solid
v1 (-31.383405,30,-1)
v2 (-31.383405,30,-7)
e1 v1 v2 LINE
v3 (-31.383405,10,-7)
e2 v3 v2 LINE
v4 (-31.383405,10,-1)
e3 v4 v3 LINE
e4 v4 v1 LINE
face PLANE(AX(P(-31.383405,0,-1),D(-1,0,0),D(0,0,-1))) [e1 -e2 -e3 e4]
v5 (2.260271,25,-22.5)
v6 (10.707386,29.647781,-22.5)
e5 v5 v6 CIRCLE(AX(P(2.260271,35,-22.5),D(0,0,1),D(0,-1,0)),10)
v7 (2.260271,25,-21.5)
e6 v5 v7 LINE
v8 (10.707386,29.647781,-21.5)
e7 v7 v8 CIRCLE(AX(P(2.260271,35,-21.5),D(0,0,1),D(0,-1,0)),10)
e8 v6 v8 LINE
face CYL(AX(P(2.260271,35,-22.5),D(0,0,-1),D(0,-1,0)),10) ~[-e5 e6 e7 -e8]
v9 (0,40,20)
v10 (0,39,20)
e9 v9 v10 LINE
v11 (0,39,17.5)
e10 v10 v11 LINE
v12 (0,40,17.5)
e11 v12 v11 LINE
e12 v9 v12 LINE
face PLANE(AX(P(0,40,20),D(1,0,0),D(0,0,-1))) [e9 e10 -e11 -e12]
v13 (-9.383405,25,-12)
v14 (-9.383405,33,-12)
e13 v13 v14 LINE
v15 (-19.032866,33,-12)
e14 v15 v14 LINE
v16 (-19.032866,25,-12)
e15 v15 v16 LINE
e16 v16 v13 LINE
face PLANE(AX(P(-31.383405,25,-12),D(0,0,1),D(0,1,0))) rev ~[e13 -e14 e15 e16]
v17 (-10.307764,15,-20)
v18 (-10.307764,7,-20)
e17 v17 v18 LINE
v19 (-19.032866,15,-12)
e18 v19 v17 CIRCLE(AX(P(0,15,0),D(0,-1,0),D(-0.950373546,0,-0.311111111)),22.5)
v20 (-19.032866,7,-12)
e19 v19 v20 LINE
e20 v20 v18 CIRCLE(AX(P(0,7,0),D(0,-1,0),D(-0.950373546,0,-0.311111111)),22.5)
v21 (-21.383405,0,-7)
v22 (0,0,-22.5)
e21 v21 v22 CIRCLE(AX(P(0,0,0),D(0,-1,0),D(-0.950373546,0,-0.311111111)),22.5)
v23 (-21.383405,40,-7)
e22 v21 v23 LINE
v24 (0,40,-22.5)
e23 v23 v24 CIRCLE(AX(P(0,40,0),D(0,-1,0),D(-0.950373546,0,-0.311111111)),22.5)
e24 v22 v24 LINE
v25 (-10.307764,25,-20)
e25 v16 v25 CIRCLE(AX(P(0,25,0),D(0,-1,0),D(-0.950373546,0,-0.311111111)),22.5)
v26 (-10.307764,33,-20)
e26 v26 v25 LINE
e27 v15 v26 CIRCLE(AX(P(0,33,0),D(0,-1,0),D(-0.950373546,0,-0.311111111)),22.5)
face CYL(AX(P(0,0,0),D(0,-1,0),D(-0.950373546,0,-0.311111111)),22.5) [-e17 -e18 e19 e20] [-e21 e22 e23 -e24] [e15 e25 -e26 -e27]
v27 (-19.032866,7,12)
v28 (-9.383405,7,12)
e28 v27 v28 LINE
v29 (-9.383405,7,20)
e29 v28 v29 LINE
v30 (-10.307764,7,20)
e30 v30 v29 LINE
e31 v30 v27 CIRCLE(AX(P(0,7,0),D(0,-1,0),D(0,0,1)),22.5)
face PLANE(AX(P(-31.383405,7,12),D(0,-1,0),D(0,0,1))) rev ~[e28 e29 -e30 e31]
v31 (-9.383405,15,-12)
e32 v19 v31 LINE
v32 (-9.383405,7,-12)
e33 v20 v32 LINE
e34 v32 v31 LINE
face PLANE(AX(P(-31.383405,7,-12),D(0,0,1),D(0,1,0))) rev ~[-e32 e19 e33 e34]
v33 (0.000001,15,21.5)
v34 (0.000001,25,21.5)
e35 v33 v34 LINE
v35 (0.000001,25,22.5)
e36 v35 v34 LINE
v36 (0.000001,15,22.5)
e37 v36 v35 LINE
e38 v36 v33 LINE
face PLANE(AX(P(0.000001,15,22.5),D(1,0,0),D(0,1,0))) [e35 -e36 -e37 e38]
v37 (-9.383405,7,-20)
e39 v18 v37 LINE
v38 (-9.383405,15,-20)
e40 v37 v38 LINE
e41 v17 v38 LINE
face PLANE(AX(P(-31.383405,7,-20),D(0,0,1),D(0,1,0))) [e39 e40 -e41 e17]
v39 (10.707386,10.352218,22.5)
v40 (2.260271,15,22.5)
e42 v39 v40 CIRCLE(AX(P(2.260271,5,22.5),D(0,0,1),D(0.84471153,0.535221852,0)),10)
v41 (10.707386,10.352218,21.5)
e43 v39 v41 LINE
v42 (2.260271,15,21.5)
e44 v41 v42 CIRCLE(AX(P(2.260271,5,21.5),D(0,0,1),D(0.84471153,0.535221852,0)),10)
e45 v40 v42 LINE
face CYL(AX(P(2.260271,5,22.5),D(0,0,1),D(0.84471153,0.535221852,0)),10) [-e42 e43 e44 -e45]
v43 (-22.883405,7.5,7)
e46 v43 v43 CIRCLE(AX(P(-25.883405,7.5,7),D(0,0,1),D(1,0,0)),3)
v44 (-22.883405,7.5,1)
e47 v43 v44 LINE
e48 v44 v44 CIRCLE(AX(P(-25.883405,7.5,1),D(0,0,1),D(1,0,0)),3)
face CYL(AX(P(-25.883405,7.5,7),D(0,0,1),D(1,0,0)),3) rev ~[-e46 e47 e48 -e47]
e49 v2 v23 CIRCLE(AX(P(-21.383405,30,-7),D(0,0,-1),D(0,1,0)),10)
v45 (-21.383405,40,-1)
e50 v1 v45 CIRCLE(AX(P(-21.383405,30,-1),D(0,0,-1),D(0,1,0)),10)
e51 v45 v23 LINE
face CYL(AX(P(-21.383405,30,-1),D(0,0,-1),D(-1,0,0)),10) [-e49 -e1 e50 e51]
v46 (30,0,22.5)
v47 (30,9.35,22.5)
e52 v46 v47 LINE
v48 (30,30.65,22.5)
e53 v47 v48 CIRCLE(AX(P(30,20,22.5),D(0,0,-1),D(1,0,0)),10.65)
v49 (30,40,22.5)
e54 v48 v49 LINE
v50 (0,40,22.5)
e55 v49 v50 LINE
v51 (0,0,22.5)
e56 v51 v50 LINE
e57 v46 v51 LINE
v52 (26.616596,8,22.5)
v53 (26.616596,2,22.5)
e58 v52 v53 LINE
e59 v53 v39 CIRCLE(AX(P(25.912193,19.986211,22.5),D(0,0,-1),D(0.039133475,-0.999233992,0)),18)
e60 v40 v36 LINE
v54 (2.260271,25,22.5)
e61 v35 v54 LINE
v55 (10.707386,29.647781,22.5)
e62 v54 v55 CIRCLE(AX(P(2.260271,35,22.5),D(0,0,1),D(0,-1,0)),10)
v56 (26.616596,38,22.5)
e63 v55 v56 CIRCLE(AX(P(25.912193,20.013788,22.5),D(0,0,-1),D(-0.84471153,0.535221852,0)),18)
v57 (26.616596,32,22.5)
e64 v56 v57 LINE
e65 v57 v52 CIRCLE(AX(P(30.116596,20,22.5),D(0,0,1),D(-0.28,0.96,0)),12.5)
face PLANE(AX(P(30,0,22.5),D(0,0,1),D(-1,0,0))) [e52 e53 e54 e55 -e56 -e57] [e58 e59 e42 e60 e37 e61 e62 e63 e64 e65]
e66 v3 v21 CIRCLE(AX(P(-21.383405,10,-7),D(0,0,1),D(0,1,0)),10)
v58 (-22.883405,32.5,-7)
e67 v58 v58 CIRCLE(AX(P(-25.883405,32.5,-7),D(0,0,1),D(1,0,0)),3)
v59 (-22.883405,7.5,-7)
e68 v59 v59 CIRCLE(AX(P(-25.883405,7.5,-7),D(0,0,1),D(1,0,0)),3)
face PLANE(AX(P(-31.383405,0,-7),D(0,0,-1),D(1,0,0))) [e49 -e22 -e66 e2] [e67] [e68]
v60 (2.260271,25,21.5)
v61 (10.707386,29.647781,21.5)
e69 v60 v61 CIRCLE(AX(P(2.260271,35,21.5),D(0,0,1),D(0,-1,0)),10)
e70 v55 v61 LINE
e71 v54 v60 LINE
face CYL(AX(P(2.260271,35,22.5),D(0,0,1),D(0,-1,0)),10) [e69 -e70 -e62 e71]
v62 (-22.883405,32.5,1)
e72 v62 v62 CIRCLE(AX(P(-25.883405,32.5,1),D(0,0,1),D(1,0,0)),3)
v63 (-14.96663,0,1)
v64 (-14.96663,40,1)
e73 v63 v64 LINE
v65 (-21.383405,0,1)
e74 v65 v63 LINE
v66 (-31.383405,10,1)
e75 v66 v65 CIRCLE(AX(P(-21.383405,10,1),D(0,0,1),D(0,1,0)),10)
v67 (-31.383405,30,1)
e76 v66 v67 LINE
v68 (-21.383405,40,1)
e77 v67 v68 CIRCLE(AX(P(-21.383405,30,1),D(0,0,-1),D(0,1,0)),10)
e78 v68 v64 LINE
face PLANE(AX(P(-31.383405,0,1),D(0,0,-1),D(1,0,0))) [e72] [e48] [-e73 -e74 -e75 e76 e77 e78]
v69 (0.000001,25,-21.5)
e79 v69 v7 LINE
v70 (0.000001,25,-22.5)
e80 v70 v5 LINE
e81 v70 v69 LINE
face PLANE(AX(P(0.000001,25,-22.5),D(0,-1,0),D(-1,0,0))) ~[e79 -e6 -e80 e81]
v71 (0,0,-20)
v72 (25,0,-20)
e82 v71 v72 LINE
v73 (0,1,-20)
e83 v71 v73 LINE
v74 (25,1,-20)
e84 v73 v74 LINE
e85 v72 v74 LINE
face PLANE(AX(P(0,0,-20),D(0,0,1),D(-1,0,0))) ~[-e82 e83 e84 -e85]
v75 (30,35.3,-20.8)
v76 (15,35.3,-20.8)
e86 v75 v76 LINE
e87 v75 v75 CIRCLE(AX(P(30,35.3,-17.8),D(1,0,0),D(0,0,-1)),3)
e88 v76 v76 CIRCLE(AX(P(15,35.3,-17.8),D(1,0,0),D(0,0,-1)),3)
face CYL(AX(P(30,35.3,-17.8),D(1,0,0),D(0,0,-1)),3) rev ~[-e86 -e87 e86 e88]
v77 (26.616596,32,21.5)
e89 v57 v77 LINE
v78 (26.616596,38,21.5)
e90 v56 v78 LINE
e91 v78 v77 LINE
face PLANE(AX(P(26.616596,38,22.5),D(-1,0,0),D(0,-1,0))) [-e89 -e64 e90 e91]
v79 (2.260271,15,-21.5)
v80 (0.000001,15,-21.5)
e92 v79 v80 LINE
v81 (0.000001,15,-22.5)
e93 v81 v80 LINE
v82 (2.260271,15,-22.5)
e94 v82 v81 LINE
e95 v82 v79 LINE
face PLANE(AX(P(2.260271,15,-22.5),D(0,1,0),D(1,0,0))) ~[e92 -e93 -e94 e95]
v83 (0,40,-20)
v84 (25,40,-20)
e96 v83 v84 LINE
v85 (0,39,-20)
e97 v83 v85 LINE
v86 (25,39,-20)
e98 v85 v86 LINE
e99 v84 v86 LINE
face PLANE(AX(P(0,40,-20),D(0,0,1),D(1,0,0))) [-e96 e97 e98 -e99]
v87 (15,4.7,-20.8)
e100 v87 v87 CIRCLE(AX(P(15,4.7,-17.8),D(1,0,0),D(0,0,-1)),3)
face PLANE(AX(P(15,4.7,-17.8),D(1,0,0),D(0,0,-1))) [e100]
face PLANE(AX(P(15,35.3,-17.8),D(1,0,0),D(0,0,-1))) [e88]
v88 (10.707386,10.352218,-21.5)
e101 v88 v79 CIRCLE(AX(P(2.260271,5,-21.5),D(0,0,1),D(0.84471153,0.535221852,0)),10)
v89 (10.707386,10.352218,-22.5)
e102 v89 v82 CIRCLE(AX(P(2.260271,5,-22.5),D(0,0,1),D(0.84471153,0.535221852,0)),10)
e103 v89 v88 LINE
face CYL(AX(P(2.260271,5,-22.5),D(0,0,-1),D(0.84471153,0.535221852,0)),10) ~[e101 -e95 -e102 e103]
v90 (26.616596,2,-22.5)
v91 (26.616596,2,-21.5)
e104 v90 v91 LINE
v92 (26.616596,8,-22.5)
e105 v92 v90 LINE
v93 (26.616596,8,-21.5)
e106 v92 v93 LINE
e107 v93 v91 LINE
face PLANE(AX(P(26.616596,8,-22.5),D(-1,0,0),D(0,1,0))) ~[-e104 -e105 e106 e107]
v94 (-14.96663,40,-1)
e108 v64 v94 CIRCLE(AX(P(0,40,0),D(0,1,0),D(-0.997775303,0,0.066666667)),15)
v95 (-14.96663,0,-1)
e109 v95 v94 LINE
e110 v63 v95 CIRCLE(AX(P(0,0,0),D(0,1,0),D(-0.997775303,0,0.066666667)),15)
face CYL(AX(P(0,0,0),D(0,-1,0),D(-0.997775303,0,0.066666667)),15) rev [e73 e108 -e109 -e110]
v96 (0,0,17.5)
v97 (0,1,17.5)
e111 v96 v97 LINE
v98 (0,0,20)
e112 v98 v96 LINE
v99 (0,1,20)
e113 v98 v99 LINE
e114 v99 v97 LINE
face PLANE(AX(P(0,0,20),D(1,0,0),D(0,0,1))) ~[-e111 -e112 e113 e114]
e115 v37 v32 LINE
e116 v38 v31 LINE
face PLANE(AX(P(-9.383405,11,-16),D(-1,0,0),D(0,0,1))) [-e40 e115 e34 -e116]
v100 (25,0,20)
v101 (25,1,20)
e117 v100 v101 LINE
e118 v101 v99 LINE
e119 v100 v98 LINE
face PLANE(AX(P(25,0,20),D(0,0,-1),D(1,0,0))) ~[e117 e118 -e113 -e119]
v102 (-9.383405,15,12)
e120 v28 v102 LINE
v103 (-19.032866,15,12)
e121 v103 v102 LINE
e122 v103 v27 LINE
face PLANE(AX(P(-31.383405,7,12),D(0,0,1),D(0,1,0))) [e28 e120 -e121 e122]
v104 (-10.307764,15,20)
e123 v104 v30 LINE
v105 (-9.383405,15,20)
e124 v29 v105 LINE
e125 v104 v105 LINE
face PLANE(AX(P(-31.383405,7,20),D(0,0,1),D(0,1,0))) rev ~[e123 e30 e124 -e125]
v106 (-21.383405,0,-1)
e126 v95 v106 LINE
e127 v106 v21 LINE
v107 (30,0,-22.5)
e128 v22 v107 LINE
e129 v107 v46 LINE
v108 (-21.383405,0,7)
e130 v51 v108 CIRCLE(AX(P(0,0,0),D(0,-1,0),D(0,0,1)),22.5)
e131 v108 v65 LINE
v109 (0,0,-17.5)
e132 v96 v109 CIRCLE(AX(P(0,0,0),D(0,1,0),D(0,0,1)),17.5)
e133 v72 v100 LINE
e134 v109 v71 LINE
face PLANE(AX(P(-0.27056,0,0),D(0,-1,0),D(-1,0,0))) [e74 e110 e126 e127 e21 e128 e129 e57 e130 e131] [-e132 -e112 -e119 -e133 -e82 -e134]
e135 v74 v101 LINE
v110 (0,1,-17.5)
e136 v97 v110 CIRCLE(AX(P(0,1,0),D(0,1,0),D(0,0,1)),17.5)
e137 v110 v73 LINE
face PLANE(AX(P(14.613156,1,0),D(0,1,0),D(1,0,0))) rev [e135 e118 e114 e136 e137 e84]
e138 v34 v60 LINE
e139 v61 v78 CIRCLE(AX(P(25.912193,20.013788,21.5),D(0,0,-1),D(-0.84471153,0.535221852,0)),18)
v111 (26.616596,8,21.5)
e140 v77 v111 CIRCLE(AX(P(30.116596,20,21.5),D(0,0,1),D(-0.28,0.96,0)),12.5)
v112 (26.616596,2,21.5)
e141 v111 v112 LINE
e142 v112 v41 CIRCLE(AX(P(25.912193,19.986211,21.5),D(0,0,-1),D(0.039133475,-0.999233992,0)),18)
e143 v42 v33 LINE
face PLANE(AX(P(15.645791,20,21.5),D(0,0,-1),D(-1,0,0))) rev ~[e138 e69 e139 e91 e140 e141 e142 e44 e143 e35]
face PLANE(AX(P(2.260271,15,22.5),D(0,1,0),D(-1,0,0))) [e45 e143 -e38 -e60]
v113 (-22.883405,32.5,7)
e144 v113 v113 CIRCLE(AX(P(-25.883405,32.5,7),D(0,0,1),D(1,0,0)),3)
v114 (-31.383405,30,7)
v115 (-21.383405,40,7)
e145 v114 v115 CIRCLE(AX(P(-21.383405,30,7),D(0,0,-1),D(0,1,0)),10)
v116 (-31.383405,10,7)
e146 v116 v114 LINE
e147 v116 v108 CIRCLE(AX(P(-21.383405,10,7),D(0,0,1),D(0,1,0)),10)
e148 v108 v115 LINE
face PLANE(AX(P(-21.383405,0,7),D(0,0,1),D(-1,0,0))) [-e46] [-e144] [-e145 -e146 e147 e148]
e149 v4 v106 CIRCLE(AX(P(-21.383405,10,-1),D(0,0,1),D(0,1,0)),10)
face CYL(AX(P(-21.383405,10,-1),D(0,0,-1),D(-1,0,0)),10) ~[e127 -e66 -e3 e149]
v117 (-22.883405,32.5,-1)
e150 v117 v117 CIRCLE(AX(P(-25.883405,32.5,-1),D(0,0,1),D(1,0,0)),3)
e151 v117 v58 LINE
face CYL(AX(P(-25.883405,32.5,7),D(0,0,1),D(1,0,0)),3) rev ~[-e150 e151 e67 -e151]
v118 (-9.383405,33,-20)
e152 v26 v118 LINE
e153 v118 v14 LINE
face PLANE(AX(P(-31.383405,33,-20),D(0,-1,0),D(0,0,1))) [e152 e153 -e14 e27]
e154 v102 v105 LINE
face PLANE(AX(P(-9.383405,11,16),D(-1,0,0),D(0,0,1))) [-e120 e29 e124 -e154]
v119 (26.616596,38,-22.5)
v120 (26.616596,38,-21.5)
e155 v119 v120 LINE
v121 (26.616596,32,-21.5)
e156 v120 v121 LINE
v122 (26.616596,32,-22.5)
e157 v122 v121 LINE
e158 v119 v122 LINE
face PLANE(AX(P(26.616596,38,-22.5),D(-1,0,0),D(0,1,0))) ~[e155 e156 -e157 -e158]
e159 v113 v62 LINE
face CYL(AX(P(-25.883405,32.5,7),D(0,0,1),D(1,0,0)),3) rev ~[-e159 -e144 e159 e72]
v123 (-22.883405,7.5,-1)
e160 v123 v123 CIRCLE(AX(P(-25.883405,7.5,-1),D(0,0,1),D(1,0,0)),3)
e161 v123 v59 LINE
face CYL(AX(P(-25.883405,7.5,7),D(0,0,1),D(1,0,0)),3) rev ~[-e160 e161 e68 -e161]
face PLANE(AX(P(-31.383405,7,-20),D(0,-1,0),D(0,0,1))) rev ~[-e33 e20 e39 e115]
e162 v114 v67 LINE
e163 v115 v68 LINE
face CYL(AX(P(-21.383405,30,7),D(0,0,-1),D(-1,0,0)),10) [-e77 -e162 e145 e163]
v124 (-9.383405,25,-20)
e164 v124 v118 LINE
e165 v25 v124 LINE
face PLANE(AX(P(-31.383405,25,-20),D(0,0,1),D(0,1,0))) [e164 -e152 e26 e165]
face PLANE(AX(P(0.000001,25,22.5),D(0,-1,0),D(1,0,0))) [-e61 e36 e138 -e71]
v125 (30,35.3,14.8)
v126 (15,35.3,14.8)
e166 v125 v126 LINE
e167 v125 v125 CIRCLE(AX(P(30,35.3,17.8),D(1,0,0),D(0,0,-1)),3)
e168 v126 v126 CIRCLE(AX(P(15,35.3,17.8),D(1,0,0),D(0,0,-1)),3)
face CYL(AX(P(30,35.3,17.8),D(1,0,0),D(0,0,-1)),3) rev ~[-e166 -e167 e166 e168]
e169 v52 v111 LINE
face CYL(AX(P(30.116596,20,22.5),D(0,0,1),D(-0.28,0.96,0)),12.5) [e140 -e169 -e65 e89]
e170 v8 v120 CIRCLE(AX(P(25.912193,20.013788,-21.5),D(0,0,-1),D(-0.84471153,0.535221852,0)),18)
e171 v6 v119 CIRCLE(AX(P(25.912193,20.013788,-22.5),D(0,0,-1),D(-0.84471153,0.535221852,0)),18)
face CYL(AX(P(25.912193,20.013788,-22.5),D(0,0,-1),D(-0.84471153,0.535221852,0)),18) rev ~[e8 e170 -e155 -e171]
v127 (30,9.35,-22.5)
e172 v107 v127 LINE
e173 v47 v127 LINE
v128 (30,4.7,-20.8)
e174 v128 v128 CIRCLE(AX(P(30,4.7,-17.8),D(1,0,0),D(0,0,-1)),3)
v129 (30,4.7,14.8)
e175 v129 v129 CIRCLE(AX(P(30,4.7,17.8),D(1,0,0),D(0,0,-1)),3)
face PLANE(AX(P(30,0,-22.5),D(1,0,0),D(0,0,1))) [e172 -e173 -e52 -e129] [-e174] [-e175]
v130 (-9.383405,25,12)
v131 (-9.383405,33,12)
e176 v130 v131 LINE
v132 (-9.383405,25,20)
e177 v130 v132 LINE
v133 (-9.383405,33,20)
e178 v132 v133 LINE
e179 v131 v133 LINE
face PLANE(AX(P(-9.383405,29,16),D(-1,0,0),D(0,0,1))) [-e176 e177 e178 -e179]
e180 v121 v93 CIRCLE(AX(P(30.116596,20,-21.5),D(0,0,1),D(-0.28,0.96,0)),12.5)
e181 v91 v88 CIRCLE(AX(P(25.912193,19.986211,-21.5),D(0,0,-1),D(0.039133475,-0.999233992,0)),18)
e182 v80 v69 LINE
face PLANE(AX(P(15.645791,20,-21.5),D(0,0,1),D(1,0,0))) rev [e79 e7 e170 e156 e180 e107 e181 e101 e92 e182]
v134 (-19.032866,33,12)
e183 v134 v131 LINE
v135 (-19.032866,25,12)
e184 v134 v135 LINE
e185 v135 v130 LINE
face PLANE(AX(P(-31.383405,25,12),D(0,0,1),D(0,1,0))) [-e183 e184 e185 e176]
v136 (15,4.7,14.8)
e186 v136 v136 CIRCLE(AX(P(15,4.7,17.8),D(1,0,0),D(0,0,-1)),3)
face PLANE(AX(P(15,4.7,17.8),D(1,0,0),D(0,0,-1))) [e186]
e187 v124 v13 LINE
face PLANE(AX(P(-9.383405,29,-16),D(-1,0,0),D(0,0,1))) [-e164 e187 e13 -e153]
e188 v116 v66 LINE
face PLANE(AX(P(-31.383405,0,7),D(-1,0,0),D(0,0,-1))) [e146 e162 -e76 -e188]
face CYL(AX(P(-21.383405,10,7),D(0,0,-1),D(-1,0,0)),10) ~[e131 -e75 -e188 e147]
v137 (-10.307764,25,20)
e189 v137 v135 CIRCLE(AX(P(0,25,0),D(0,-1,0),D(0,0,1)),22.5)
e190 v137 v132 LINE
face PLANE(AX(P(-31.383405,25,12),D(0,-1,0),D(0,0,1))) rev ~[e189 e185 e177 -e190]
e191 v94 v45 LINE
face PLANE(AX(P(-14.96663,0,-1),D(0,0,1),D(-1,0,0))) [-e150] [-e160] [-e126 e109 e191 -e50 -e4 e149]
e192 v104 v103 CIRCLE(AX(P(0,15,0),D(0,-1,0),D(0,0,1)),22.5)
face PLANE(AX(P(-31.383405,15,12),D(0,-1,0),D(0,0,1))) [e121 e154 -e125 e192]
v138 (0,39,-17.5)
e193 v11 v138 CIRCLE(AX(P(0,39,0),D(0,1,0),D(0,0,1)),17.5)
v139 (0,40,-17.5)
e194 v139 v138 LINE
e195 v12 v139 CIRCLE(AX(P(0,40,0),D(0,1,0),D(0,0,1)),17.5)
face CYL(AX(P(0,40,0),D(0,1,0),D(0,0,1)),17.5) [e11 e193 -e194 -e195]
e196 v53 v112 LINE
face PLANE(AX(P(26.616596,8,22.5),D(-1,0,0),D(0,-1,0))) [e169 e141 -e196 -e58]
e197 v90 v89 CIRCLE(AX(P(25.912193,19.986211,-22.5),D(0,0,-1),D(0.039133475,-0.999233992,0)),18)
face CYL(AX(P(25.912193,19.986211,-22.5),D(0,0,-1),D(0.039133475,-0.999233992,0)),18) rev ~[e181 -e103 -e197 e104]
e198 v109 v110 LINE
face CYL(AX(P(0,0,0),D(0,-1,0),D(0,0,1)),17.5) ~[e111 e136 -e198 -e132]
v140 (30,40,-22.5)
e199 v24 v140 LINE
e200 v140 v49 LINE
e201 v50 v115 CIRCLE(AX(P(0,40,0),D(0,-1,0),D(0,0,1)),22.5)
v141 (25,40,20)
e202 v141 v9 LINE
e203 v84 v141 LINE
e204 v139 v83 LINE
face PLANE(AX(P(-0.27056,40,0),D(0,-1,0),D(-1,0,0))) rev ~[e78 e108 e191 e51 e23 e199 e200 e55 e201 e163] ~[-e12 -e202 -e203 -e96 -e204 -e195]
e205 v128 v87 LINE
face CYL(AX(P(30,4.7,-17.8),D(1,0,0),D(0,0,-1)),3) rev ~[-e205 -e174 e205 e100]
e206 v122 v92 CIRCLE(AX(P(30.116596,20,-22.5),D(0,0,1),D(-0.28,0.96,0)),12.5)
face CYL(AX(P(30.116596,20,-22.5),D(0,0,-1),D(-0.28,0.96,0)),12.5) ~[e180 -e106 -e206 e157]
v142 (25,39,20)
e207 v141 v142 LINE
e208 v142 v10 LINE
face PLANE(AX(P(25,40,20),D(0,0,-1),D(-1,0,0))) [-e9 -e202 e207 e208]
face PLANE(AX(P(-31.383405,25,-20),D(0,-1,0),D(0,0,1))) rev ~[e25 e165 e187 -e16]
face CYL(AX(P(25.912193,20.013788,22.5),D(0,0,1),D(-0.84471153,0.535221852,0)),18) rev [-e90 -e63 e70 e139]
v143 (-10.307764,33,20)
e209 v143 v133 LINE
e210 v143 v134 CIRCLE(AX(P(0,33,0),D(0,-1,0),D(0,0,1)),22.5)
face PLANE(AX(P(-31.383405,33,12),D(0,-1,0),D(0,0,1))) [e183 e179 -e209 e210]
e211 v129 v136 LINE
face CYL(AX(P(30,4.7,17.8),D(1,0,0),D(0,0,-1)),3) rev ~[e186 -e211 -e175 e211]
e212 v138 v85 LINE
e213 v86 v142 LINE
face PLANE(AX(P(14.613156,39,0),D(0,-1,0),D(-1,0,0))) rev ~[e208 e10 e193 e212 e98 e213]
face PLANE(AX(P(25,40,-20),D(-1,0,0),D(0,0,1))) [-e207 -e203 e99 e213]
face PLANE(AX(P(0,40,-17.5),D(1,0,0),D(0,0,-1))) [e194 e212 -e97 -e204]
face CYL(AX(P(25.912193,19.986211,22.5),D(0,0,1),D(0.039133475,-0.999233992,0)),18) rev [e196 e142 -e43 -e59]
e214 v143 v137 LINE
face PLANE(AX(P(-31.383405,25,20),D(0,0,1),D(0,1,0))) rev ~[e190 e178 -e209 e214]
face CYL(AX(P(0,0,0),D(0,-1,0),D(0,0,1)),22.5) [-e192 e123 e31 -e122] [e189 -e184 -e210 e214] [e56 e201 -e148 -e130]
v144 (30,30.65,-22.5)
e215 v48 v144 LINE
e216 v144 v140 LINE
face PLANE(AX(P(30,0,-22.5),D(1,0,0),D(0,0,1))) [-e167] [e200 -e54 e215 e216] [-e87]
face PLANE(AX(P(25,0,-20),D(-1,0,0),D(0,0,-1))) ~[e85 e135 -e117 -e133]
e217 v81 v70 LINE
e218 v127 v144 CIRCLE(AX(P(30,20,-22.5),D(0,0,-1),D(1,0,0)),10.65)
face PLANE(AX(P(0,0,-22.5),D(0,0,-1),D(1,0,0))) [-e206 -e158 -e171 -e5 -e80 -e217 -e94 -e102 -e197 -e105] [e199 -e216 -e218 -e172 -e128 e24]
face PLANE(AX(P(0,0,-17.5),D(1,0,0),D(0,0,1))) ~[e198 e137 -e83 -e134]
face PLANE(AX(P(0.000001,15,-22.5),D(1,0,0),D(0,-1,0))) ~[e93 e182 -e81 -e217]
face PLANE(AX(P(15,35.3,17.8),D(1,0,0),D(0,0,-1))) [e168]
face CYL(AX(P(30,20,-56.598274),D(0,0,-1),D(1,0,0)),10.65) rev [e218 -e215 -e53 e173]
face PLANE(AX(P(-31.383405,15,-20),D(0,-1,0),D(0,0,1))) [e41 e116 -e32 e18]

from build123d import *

# Parameters (mm, degrees)
BOSS_EXTRUDE1_DEPTH     = 40
FILLET1_R               = 10
SKETCH2_R               = 3
CUT_EXTRUDE1_DEPTH      = 30
CUT_EXTRUDE2_DEPTH      = 56.598274214
CUT_EXTRUDE2_DEPTH_BACK = 56.598274214
SKETCH4_R               = 10.65
SKETCH3_R               = 3
CUT_EXTRUDE3_DEPTH      = 15
SKETCH10_W              = 8
SKETCH10_H              = 8
CUT_EXTRUDE4_DEPTH      = 22
CUT_EXTRUDE5_DEPTH      = 1
CUT_EXTRUDE6_DEPTH      = 1


with BuildPart() as part:
    # Sketch1 → Boss-Extrude1 (new body)
    with BuildSketch(Plane(origin=(0, 0, 0), x_dir=(1, 0, 0), z_dir=(0, 1, 0))):
        with BuildLine():
            Line((0, 22.5), (30, 22.5))
            Line((30, 22.5), (30, -22.5))
            Line((30, -22.5), (0, -22.5))
            ThreePointArc((0, -22.5), (-13.205112646, -18.217436702), (-21.38340478, -7))
            Line((-21.38340478, -7), (-31.38340478, -7))
            Line((-31.38340478, -7), (-31.38340478, -1))
            Line((-31.38340478, -1), (-14.966629547, -1))
            ThreePointArc((-14.966629547, -1), (15, 0), (-14.966629547, 1))
            Line((-14.966629547, 1), (-31.38340478, 1))
            Line((-31.38340478, 1), (-31.38340478, 7))
            Line((-31.38340478, 7), (-21.38340478, 7))
            ThreePointArc((-21.38340478, 7), (-13.205112646, 18.217436702), (0, 22.5))
        make_face()
    extrude(amount=BOSS_EXTRUDE1_DEPTH)

    # Fillet1
    fillet1_edges = [part.edges().sort_by_distance(p)[0] for p in [
        (-31.38340478, 40, -4),
        (-31.38340478, 0, -4),
        (-31.38340478, 0, 4),
        (-31.38340478, 40, 4),
    ]]
    fillet(fillet1_edges, radius=FILLET1_R)

    # Sketch2 → Cut-Extrude1 (cut)
    with BuildSketch(Plane.XY.offset(7)):
        with Locations((-25.88340478, 32.5)):
            Circle(SKETCH2_R)
        with Locations((-25.88340478, 7.5)):
            Circle(SKETCH2_R)
    extrude(amount=-CUT_EXTRUDE1_DEPTH, mode=Mode.SUBTRACT)

    # Sketch4 → Cut-Extrude2 (cut, two sides: drawn at the far end of the back side and taken through both)
    with BuildSketch(Plane.XY.offset(-CUT_EXTRUDE2_DEPTH_BACK)):
        with Locations((30, 20)):
            Circle(SKETCH4_R)
    extrude(amount=CUT_EXTRUDE2_DEPTH + CUT_EXTRUDE2_DEPTH_BACK, mode=Mode.SUBTRACT)

    # Sketch3 → Cut-Extrude3 (cut)
    with BuildSketch(Plane(origin=(30, 0, 0), x_dir=(0, 0, -1), z_dir=(1, 0, 0))):
        with Locations((-17.8, 35.3)):
            Circle(SKETCH3_R)
        with Locations((17.8, 35.3)):
            Circle(SKETCH3_R)
        with Locations((17.8, 4.7)):
            Circle(SKETCH3_R)
        with Locations((-17.8, 4.7)):
            Circle(SKETCH3_R)
    extrude(amount=-CUT_EXTRUDE3_DEPTH, mode=Mode.SUBTRACT)

    # Sketch10 → Cut-Extrude4 (cut)
    with BuildSketch(Plane.ZY.offset(31.38340478)):
        with Locations((-16, 29)):
            Rectangle(SKETCH10_W, SKETCH10_H)
        with Locations((16, 29)):
            Rectangle(SKETCH10_W, SKETCH10_H)
        with Locations((16, 11)):
            Rectangle(SKETCH10_W, SKETCH10_H)
        with Locations((-16, 11)):
            Rectangle(SKETCH10_W, SKETCH10_H)
    extrude(amount=-CUT_EXTRUDE4_DEPTH, mode=Mode.SUBTRACT)

    # Sketch11 → Cut-Extrude5 (cut)
    with BuildSketch(Plane(origin=(0, 40, 0), x_dir=(1, 0, 0), z_dir=(0, 1, 0))):
        with BuildLine():
            Line((25, 20), (25, -20))
            Line((25, -20), (0, -20))
            Line((0, -20), (0, -17.5))
            ThreePointArc((0, -17.5), (17.5, 0), (0, 17.5))
            Line((0, 17.5), (0, 20))
            Line((0, 20), (25, 20))
        make_face()
    cut_extrude5 = extrude(amount=-CUT_EXTRUDE5_DEPTH, mode=Mode.SUBTRACT)

    # Sketch14 → Cut-Extrude6 (cut)
    with BuildSketch(Plane.XY.offset(22.5)):
        with BuildLine():
            Line((7.05e-07, 24.999999636), (2.260270537, 24.999999636))
            ThreePointArc((2.260270537, 24.999999636), (7.080945531, 26.238658837), (10.707385838, 29.647781115))
            ThreePointArc((10.707385838, 29.647781115), (17.545274901, 35.950998172), (26.616595925, 37.999999636))
            Line((26.616595925, 37.999999636), (26.616595925, 31.999999636))
            ThreePointArc((26.616595925, 31.999999636), (17.616595925, 19.999999636), (26.616595925, 7.999999636))
            Line((26.616595925, 7.999999636), (26.616595925, 1.999999636))
            ThreePointArc((26.616595925, 1.999999636), (17.545274901, 4.0490011), (10.707385838, 10.352218158))
            ThreePointArc((10.707385838, 10.352218158), (7.080945531, 13.761340436), (2.260270537, 14.999999636))
            Line((2.260270537, 14.999999636), (7.05e-07, 14.999999636))
            Line((7.05e-07, 14.999999636), (7.05e-07, 24.999999636))
        make_face()
    cut_extrude6 = extrude(amount=-CUT_EXTRUDE6_DEPTH, mode=Mode.SUBTRACT)

    # Mirror3: Cut-Extrude6 across plane
    add(cut_extrude6.mirror(Plane.XY), mode=Mode.SUBTRACT)

    # Mirror4: Cut-Extrude5 across plane
    add(cut_extrude5.mirror(Plane.ZX.offset(20)), mode=Mode.SUBTRACT)


solid = part.part
